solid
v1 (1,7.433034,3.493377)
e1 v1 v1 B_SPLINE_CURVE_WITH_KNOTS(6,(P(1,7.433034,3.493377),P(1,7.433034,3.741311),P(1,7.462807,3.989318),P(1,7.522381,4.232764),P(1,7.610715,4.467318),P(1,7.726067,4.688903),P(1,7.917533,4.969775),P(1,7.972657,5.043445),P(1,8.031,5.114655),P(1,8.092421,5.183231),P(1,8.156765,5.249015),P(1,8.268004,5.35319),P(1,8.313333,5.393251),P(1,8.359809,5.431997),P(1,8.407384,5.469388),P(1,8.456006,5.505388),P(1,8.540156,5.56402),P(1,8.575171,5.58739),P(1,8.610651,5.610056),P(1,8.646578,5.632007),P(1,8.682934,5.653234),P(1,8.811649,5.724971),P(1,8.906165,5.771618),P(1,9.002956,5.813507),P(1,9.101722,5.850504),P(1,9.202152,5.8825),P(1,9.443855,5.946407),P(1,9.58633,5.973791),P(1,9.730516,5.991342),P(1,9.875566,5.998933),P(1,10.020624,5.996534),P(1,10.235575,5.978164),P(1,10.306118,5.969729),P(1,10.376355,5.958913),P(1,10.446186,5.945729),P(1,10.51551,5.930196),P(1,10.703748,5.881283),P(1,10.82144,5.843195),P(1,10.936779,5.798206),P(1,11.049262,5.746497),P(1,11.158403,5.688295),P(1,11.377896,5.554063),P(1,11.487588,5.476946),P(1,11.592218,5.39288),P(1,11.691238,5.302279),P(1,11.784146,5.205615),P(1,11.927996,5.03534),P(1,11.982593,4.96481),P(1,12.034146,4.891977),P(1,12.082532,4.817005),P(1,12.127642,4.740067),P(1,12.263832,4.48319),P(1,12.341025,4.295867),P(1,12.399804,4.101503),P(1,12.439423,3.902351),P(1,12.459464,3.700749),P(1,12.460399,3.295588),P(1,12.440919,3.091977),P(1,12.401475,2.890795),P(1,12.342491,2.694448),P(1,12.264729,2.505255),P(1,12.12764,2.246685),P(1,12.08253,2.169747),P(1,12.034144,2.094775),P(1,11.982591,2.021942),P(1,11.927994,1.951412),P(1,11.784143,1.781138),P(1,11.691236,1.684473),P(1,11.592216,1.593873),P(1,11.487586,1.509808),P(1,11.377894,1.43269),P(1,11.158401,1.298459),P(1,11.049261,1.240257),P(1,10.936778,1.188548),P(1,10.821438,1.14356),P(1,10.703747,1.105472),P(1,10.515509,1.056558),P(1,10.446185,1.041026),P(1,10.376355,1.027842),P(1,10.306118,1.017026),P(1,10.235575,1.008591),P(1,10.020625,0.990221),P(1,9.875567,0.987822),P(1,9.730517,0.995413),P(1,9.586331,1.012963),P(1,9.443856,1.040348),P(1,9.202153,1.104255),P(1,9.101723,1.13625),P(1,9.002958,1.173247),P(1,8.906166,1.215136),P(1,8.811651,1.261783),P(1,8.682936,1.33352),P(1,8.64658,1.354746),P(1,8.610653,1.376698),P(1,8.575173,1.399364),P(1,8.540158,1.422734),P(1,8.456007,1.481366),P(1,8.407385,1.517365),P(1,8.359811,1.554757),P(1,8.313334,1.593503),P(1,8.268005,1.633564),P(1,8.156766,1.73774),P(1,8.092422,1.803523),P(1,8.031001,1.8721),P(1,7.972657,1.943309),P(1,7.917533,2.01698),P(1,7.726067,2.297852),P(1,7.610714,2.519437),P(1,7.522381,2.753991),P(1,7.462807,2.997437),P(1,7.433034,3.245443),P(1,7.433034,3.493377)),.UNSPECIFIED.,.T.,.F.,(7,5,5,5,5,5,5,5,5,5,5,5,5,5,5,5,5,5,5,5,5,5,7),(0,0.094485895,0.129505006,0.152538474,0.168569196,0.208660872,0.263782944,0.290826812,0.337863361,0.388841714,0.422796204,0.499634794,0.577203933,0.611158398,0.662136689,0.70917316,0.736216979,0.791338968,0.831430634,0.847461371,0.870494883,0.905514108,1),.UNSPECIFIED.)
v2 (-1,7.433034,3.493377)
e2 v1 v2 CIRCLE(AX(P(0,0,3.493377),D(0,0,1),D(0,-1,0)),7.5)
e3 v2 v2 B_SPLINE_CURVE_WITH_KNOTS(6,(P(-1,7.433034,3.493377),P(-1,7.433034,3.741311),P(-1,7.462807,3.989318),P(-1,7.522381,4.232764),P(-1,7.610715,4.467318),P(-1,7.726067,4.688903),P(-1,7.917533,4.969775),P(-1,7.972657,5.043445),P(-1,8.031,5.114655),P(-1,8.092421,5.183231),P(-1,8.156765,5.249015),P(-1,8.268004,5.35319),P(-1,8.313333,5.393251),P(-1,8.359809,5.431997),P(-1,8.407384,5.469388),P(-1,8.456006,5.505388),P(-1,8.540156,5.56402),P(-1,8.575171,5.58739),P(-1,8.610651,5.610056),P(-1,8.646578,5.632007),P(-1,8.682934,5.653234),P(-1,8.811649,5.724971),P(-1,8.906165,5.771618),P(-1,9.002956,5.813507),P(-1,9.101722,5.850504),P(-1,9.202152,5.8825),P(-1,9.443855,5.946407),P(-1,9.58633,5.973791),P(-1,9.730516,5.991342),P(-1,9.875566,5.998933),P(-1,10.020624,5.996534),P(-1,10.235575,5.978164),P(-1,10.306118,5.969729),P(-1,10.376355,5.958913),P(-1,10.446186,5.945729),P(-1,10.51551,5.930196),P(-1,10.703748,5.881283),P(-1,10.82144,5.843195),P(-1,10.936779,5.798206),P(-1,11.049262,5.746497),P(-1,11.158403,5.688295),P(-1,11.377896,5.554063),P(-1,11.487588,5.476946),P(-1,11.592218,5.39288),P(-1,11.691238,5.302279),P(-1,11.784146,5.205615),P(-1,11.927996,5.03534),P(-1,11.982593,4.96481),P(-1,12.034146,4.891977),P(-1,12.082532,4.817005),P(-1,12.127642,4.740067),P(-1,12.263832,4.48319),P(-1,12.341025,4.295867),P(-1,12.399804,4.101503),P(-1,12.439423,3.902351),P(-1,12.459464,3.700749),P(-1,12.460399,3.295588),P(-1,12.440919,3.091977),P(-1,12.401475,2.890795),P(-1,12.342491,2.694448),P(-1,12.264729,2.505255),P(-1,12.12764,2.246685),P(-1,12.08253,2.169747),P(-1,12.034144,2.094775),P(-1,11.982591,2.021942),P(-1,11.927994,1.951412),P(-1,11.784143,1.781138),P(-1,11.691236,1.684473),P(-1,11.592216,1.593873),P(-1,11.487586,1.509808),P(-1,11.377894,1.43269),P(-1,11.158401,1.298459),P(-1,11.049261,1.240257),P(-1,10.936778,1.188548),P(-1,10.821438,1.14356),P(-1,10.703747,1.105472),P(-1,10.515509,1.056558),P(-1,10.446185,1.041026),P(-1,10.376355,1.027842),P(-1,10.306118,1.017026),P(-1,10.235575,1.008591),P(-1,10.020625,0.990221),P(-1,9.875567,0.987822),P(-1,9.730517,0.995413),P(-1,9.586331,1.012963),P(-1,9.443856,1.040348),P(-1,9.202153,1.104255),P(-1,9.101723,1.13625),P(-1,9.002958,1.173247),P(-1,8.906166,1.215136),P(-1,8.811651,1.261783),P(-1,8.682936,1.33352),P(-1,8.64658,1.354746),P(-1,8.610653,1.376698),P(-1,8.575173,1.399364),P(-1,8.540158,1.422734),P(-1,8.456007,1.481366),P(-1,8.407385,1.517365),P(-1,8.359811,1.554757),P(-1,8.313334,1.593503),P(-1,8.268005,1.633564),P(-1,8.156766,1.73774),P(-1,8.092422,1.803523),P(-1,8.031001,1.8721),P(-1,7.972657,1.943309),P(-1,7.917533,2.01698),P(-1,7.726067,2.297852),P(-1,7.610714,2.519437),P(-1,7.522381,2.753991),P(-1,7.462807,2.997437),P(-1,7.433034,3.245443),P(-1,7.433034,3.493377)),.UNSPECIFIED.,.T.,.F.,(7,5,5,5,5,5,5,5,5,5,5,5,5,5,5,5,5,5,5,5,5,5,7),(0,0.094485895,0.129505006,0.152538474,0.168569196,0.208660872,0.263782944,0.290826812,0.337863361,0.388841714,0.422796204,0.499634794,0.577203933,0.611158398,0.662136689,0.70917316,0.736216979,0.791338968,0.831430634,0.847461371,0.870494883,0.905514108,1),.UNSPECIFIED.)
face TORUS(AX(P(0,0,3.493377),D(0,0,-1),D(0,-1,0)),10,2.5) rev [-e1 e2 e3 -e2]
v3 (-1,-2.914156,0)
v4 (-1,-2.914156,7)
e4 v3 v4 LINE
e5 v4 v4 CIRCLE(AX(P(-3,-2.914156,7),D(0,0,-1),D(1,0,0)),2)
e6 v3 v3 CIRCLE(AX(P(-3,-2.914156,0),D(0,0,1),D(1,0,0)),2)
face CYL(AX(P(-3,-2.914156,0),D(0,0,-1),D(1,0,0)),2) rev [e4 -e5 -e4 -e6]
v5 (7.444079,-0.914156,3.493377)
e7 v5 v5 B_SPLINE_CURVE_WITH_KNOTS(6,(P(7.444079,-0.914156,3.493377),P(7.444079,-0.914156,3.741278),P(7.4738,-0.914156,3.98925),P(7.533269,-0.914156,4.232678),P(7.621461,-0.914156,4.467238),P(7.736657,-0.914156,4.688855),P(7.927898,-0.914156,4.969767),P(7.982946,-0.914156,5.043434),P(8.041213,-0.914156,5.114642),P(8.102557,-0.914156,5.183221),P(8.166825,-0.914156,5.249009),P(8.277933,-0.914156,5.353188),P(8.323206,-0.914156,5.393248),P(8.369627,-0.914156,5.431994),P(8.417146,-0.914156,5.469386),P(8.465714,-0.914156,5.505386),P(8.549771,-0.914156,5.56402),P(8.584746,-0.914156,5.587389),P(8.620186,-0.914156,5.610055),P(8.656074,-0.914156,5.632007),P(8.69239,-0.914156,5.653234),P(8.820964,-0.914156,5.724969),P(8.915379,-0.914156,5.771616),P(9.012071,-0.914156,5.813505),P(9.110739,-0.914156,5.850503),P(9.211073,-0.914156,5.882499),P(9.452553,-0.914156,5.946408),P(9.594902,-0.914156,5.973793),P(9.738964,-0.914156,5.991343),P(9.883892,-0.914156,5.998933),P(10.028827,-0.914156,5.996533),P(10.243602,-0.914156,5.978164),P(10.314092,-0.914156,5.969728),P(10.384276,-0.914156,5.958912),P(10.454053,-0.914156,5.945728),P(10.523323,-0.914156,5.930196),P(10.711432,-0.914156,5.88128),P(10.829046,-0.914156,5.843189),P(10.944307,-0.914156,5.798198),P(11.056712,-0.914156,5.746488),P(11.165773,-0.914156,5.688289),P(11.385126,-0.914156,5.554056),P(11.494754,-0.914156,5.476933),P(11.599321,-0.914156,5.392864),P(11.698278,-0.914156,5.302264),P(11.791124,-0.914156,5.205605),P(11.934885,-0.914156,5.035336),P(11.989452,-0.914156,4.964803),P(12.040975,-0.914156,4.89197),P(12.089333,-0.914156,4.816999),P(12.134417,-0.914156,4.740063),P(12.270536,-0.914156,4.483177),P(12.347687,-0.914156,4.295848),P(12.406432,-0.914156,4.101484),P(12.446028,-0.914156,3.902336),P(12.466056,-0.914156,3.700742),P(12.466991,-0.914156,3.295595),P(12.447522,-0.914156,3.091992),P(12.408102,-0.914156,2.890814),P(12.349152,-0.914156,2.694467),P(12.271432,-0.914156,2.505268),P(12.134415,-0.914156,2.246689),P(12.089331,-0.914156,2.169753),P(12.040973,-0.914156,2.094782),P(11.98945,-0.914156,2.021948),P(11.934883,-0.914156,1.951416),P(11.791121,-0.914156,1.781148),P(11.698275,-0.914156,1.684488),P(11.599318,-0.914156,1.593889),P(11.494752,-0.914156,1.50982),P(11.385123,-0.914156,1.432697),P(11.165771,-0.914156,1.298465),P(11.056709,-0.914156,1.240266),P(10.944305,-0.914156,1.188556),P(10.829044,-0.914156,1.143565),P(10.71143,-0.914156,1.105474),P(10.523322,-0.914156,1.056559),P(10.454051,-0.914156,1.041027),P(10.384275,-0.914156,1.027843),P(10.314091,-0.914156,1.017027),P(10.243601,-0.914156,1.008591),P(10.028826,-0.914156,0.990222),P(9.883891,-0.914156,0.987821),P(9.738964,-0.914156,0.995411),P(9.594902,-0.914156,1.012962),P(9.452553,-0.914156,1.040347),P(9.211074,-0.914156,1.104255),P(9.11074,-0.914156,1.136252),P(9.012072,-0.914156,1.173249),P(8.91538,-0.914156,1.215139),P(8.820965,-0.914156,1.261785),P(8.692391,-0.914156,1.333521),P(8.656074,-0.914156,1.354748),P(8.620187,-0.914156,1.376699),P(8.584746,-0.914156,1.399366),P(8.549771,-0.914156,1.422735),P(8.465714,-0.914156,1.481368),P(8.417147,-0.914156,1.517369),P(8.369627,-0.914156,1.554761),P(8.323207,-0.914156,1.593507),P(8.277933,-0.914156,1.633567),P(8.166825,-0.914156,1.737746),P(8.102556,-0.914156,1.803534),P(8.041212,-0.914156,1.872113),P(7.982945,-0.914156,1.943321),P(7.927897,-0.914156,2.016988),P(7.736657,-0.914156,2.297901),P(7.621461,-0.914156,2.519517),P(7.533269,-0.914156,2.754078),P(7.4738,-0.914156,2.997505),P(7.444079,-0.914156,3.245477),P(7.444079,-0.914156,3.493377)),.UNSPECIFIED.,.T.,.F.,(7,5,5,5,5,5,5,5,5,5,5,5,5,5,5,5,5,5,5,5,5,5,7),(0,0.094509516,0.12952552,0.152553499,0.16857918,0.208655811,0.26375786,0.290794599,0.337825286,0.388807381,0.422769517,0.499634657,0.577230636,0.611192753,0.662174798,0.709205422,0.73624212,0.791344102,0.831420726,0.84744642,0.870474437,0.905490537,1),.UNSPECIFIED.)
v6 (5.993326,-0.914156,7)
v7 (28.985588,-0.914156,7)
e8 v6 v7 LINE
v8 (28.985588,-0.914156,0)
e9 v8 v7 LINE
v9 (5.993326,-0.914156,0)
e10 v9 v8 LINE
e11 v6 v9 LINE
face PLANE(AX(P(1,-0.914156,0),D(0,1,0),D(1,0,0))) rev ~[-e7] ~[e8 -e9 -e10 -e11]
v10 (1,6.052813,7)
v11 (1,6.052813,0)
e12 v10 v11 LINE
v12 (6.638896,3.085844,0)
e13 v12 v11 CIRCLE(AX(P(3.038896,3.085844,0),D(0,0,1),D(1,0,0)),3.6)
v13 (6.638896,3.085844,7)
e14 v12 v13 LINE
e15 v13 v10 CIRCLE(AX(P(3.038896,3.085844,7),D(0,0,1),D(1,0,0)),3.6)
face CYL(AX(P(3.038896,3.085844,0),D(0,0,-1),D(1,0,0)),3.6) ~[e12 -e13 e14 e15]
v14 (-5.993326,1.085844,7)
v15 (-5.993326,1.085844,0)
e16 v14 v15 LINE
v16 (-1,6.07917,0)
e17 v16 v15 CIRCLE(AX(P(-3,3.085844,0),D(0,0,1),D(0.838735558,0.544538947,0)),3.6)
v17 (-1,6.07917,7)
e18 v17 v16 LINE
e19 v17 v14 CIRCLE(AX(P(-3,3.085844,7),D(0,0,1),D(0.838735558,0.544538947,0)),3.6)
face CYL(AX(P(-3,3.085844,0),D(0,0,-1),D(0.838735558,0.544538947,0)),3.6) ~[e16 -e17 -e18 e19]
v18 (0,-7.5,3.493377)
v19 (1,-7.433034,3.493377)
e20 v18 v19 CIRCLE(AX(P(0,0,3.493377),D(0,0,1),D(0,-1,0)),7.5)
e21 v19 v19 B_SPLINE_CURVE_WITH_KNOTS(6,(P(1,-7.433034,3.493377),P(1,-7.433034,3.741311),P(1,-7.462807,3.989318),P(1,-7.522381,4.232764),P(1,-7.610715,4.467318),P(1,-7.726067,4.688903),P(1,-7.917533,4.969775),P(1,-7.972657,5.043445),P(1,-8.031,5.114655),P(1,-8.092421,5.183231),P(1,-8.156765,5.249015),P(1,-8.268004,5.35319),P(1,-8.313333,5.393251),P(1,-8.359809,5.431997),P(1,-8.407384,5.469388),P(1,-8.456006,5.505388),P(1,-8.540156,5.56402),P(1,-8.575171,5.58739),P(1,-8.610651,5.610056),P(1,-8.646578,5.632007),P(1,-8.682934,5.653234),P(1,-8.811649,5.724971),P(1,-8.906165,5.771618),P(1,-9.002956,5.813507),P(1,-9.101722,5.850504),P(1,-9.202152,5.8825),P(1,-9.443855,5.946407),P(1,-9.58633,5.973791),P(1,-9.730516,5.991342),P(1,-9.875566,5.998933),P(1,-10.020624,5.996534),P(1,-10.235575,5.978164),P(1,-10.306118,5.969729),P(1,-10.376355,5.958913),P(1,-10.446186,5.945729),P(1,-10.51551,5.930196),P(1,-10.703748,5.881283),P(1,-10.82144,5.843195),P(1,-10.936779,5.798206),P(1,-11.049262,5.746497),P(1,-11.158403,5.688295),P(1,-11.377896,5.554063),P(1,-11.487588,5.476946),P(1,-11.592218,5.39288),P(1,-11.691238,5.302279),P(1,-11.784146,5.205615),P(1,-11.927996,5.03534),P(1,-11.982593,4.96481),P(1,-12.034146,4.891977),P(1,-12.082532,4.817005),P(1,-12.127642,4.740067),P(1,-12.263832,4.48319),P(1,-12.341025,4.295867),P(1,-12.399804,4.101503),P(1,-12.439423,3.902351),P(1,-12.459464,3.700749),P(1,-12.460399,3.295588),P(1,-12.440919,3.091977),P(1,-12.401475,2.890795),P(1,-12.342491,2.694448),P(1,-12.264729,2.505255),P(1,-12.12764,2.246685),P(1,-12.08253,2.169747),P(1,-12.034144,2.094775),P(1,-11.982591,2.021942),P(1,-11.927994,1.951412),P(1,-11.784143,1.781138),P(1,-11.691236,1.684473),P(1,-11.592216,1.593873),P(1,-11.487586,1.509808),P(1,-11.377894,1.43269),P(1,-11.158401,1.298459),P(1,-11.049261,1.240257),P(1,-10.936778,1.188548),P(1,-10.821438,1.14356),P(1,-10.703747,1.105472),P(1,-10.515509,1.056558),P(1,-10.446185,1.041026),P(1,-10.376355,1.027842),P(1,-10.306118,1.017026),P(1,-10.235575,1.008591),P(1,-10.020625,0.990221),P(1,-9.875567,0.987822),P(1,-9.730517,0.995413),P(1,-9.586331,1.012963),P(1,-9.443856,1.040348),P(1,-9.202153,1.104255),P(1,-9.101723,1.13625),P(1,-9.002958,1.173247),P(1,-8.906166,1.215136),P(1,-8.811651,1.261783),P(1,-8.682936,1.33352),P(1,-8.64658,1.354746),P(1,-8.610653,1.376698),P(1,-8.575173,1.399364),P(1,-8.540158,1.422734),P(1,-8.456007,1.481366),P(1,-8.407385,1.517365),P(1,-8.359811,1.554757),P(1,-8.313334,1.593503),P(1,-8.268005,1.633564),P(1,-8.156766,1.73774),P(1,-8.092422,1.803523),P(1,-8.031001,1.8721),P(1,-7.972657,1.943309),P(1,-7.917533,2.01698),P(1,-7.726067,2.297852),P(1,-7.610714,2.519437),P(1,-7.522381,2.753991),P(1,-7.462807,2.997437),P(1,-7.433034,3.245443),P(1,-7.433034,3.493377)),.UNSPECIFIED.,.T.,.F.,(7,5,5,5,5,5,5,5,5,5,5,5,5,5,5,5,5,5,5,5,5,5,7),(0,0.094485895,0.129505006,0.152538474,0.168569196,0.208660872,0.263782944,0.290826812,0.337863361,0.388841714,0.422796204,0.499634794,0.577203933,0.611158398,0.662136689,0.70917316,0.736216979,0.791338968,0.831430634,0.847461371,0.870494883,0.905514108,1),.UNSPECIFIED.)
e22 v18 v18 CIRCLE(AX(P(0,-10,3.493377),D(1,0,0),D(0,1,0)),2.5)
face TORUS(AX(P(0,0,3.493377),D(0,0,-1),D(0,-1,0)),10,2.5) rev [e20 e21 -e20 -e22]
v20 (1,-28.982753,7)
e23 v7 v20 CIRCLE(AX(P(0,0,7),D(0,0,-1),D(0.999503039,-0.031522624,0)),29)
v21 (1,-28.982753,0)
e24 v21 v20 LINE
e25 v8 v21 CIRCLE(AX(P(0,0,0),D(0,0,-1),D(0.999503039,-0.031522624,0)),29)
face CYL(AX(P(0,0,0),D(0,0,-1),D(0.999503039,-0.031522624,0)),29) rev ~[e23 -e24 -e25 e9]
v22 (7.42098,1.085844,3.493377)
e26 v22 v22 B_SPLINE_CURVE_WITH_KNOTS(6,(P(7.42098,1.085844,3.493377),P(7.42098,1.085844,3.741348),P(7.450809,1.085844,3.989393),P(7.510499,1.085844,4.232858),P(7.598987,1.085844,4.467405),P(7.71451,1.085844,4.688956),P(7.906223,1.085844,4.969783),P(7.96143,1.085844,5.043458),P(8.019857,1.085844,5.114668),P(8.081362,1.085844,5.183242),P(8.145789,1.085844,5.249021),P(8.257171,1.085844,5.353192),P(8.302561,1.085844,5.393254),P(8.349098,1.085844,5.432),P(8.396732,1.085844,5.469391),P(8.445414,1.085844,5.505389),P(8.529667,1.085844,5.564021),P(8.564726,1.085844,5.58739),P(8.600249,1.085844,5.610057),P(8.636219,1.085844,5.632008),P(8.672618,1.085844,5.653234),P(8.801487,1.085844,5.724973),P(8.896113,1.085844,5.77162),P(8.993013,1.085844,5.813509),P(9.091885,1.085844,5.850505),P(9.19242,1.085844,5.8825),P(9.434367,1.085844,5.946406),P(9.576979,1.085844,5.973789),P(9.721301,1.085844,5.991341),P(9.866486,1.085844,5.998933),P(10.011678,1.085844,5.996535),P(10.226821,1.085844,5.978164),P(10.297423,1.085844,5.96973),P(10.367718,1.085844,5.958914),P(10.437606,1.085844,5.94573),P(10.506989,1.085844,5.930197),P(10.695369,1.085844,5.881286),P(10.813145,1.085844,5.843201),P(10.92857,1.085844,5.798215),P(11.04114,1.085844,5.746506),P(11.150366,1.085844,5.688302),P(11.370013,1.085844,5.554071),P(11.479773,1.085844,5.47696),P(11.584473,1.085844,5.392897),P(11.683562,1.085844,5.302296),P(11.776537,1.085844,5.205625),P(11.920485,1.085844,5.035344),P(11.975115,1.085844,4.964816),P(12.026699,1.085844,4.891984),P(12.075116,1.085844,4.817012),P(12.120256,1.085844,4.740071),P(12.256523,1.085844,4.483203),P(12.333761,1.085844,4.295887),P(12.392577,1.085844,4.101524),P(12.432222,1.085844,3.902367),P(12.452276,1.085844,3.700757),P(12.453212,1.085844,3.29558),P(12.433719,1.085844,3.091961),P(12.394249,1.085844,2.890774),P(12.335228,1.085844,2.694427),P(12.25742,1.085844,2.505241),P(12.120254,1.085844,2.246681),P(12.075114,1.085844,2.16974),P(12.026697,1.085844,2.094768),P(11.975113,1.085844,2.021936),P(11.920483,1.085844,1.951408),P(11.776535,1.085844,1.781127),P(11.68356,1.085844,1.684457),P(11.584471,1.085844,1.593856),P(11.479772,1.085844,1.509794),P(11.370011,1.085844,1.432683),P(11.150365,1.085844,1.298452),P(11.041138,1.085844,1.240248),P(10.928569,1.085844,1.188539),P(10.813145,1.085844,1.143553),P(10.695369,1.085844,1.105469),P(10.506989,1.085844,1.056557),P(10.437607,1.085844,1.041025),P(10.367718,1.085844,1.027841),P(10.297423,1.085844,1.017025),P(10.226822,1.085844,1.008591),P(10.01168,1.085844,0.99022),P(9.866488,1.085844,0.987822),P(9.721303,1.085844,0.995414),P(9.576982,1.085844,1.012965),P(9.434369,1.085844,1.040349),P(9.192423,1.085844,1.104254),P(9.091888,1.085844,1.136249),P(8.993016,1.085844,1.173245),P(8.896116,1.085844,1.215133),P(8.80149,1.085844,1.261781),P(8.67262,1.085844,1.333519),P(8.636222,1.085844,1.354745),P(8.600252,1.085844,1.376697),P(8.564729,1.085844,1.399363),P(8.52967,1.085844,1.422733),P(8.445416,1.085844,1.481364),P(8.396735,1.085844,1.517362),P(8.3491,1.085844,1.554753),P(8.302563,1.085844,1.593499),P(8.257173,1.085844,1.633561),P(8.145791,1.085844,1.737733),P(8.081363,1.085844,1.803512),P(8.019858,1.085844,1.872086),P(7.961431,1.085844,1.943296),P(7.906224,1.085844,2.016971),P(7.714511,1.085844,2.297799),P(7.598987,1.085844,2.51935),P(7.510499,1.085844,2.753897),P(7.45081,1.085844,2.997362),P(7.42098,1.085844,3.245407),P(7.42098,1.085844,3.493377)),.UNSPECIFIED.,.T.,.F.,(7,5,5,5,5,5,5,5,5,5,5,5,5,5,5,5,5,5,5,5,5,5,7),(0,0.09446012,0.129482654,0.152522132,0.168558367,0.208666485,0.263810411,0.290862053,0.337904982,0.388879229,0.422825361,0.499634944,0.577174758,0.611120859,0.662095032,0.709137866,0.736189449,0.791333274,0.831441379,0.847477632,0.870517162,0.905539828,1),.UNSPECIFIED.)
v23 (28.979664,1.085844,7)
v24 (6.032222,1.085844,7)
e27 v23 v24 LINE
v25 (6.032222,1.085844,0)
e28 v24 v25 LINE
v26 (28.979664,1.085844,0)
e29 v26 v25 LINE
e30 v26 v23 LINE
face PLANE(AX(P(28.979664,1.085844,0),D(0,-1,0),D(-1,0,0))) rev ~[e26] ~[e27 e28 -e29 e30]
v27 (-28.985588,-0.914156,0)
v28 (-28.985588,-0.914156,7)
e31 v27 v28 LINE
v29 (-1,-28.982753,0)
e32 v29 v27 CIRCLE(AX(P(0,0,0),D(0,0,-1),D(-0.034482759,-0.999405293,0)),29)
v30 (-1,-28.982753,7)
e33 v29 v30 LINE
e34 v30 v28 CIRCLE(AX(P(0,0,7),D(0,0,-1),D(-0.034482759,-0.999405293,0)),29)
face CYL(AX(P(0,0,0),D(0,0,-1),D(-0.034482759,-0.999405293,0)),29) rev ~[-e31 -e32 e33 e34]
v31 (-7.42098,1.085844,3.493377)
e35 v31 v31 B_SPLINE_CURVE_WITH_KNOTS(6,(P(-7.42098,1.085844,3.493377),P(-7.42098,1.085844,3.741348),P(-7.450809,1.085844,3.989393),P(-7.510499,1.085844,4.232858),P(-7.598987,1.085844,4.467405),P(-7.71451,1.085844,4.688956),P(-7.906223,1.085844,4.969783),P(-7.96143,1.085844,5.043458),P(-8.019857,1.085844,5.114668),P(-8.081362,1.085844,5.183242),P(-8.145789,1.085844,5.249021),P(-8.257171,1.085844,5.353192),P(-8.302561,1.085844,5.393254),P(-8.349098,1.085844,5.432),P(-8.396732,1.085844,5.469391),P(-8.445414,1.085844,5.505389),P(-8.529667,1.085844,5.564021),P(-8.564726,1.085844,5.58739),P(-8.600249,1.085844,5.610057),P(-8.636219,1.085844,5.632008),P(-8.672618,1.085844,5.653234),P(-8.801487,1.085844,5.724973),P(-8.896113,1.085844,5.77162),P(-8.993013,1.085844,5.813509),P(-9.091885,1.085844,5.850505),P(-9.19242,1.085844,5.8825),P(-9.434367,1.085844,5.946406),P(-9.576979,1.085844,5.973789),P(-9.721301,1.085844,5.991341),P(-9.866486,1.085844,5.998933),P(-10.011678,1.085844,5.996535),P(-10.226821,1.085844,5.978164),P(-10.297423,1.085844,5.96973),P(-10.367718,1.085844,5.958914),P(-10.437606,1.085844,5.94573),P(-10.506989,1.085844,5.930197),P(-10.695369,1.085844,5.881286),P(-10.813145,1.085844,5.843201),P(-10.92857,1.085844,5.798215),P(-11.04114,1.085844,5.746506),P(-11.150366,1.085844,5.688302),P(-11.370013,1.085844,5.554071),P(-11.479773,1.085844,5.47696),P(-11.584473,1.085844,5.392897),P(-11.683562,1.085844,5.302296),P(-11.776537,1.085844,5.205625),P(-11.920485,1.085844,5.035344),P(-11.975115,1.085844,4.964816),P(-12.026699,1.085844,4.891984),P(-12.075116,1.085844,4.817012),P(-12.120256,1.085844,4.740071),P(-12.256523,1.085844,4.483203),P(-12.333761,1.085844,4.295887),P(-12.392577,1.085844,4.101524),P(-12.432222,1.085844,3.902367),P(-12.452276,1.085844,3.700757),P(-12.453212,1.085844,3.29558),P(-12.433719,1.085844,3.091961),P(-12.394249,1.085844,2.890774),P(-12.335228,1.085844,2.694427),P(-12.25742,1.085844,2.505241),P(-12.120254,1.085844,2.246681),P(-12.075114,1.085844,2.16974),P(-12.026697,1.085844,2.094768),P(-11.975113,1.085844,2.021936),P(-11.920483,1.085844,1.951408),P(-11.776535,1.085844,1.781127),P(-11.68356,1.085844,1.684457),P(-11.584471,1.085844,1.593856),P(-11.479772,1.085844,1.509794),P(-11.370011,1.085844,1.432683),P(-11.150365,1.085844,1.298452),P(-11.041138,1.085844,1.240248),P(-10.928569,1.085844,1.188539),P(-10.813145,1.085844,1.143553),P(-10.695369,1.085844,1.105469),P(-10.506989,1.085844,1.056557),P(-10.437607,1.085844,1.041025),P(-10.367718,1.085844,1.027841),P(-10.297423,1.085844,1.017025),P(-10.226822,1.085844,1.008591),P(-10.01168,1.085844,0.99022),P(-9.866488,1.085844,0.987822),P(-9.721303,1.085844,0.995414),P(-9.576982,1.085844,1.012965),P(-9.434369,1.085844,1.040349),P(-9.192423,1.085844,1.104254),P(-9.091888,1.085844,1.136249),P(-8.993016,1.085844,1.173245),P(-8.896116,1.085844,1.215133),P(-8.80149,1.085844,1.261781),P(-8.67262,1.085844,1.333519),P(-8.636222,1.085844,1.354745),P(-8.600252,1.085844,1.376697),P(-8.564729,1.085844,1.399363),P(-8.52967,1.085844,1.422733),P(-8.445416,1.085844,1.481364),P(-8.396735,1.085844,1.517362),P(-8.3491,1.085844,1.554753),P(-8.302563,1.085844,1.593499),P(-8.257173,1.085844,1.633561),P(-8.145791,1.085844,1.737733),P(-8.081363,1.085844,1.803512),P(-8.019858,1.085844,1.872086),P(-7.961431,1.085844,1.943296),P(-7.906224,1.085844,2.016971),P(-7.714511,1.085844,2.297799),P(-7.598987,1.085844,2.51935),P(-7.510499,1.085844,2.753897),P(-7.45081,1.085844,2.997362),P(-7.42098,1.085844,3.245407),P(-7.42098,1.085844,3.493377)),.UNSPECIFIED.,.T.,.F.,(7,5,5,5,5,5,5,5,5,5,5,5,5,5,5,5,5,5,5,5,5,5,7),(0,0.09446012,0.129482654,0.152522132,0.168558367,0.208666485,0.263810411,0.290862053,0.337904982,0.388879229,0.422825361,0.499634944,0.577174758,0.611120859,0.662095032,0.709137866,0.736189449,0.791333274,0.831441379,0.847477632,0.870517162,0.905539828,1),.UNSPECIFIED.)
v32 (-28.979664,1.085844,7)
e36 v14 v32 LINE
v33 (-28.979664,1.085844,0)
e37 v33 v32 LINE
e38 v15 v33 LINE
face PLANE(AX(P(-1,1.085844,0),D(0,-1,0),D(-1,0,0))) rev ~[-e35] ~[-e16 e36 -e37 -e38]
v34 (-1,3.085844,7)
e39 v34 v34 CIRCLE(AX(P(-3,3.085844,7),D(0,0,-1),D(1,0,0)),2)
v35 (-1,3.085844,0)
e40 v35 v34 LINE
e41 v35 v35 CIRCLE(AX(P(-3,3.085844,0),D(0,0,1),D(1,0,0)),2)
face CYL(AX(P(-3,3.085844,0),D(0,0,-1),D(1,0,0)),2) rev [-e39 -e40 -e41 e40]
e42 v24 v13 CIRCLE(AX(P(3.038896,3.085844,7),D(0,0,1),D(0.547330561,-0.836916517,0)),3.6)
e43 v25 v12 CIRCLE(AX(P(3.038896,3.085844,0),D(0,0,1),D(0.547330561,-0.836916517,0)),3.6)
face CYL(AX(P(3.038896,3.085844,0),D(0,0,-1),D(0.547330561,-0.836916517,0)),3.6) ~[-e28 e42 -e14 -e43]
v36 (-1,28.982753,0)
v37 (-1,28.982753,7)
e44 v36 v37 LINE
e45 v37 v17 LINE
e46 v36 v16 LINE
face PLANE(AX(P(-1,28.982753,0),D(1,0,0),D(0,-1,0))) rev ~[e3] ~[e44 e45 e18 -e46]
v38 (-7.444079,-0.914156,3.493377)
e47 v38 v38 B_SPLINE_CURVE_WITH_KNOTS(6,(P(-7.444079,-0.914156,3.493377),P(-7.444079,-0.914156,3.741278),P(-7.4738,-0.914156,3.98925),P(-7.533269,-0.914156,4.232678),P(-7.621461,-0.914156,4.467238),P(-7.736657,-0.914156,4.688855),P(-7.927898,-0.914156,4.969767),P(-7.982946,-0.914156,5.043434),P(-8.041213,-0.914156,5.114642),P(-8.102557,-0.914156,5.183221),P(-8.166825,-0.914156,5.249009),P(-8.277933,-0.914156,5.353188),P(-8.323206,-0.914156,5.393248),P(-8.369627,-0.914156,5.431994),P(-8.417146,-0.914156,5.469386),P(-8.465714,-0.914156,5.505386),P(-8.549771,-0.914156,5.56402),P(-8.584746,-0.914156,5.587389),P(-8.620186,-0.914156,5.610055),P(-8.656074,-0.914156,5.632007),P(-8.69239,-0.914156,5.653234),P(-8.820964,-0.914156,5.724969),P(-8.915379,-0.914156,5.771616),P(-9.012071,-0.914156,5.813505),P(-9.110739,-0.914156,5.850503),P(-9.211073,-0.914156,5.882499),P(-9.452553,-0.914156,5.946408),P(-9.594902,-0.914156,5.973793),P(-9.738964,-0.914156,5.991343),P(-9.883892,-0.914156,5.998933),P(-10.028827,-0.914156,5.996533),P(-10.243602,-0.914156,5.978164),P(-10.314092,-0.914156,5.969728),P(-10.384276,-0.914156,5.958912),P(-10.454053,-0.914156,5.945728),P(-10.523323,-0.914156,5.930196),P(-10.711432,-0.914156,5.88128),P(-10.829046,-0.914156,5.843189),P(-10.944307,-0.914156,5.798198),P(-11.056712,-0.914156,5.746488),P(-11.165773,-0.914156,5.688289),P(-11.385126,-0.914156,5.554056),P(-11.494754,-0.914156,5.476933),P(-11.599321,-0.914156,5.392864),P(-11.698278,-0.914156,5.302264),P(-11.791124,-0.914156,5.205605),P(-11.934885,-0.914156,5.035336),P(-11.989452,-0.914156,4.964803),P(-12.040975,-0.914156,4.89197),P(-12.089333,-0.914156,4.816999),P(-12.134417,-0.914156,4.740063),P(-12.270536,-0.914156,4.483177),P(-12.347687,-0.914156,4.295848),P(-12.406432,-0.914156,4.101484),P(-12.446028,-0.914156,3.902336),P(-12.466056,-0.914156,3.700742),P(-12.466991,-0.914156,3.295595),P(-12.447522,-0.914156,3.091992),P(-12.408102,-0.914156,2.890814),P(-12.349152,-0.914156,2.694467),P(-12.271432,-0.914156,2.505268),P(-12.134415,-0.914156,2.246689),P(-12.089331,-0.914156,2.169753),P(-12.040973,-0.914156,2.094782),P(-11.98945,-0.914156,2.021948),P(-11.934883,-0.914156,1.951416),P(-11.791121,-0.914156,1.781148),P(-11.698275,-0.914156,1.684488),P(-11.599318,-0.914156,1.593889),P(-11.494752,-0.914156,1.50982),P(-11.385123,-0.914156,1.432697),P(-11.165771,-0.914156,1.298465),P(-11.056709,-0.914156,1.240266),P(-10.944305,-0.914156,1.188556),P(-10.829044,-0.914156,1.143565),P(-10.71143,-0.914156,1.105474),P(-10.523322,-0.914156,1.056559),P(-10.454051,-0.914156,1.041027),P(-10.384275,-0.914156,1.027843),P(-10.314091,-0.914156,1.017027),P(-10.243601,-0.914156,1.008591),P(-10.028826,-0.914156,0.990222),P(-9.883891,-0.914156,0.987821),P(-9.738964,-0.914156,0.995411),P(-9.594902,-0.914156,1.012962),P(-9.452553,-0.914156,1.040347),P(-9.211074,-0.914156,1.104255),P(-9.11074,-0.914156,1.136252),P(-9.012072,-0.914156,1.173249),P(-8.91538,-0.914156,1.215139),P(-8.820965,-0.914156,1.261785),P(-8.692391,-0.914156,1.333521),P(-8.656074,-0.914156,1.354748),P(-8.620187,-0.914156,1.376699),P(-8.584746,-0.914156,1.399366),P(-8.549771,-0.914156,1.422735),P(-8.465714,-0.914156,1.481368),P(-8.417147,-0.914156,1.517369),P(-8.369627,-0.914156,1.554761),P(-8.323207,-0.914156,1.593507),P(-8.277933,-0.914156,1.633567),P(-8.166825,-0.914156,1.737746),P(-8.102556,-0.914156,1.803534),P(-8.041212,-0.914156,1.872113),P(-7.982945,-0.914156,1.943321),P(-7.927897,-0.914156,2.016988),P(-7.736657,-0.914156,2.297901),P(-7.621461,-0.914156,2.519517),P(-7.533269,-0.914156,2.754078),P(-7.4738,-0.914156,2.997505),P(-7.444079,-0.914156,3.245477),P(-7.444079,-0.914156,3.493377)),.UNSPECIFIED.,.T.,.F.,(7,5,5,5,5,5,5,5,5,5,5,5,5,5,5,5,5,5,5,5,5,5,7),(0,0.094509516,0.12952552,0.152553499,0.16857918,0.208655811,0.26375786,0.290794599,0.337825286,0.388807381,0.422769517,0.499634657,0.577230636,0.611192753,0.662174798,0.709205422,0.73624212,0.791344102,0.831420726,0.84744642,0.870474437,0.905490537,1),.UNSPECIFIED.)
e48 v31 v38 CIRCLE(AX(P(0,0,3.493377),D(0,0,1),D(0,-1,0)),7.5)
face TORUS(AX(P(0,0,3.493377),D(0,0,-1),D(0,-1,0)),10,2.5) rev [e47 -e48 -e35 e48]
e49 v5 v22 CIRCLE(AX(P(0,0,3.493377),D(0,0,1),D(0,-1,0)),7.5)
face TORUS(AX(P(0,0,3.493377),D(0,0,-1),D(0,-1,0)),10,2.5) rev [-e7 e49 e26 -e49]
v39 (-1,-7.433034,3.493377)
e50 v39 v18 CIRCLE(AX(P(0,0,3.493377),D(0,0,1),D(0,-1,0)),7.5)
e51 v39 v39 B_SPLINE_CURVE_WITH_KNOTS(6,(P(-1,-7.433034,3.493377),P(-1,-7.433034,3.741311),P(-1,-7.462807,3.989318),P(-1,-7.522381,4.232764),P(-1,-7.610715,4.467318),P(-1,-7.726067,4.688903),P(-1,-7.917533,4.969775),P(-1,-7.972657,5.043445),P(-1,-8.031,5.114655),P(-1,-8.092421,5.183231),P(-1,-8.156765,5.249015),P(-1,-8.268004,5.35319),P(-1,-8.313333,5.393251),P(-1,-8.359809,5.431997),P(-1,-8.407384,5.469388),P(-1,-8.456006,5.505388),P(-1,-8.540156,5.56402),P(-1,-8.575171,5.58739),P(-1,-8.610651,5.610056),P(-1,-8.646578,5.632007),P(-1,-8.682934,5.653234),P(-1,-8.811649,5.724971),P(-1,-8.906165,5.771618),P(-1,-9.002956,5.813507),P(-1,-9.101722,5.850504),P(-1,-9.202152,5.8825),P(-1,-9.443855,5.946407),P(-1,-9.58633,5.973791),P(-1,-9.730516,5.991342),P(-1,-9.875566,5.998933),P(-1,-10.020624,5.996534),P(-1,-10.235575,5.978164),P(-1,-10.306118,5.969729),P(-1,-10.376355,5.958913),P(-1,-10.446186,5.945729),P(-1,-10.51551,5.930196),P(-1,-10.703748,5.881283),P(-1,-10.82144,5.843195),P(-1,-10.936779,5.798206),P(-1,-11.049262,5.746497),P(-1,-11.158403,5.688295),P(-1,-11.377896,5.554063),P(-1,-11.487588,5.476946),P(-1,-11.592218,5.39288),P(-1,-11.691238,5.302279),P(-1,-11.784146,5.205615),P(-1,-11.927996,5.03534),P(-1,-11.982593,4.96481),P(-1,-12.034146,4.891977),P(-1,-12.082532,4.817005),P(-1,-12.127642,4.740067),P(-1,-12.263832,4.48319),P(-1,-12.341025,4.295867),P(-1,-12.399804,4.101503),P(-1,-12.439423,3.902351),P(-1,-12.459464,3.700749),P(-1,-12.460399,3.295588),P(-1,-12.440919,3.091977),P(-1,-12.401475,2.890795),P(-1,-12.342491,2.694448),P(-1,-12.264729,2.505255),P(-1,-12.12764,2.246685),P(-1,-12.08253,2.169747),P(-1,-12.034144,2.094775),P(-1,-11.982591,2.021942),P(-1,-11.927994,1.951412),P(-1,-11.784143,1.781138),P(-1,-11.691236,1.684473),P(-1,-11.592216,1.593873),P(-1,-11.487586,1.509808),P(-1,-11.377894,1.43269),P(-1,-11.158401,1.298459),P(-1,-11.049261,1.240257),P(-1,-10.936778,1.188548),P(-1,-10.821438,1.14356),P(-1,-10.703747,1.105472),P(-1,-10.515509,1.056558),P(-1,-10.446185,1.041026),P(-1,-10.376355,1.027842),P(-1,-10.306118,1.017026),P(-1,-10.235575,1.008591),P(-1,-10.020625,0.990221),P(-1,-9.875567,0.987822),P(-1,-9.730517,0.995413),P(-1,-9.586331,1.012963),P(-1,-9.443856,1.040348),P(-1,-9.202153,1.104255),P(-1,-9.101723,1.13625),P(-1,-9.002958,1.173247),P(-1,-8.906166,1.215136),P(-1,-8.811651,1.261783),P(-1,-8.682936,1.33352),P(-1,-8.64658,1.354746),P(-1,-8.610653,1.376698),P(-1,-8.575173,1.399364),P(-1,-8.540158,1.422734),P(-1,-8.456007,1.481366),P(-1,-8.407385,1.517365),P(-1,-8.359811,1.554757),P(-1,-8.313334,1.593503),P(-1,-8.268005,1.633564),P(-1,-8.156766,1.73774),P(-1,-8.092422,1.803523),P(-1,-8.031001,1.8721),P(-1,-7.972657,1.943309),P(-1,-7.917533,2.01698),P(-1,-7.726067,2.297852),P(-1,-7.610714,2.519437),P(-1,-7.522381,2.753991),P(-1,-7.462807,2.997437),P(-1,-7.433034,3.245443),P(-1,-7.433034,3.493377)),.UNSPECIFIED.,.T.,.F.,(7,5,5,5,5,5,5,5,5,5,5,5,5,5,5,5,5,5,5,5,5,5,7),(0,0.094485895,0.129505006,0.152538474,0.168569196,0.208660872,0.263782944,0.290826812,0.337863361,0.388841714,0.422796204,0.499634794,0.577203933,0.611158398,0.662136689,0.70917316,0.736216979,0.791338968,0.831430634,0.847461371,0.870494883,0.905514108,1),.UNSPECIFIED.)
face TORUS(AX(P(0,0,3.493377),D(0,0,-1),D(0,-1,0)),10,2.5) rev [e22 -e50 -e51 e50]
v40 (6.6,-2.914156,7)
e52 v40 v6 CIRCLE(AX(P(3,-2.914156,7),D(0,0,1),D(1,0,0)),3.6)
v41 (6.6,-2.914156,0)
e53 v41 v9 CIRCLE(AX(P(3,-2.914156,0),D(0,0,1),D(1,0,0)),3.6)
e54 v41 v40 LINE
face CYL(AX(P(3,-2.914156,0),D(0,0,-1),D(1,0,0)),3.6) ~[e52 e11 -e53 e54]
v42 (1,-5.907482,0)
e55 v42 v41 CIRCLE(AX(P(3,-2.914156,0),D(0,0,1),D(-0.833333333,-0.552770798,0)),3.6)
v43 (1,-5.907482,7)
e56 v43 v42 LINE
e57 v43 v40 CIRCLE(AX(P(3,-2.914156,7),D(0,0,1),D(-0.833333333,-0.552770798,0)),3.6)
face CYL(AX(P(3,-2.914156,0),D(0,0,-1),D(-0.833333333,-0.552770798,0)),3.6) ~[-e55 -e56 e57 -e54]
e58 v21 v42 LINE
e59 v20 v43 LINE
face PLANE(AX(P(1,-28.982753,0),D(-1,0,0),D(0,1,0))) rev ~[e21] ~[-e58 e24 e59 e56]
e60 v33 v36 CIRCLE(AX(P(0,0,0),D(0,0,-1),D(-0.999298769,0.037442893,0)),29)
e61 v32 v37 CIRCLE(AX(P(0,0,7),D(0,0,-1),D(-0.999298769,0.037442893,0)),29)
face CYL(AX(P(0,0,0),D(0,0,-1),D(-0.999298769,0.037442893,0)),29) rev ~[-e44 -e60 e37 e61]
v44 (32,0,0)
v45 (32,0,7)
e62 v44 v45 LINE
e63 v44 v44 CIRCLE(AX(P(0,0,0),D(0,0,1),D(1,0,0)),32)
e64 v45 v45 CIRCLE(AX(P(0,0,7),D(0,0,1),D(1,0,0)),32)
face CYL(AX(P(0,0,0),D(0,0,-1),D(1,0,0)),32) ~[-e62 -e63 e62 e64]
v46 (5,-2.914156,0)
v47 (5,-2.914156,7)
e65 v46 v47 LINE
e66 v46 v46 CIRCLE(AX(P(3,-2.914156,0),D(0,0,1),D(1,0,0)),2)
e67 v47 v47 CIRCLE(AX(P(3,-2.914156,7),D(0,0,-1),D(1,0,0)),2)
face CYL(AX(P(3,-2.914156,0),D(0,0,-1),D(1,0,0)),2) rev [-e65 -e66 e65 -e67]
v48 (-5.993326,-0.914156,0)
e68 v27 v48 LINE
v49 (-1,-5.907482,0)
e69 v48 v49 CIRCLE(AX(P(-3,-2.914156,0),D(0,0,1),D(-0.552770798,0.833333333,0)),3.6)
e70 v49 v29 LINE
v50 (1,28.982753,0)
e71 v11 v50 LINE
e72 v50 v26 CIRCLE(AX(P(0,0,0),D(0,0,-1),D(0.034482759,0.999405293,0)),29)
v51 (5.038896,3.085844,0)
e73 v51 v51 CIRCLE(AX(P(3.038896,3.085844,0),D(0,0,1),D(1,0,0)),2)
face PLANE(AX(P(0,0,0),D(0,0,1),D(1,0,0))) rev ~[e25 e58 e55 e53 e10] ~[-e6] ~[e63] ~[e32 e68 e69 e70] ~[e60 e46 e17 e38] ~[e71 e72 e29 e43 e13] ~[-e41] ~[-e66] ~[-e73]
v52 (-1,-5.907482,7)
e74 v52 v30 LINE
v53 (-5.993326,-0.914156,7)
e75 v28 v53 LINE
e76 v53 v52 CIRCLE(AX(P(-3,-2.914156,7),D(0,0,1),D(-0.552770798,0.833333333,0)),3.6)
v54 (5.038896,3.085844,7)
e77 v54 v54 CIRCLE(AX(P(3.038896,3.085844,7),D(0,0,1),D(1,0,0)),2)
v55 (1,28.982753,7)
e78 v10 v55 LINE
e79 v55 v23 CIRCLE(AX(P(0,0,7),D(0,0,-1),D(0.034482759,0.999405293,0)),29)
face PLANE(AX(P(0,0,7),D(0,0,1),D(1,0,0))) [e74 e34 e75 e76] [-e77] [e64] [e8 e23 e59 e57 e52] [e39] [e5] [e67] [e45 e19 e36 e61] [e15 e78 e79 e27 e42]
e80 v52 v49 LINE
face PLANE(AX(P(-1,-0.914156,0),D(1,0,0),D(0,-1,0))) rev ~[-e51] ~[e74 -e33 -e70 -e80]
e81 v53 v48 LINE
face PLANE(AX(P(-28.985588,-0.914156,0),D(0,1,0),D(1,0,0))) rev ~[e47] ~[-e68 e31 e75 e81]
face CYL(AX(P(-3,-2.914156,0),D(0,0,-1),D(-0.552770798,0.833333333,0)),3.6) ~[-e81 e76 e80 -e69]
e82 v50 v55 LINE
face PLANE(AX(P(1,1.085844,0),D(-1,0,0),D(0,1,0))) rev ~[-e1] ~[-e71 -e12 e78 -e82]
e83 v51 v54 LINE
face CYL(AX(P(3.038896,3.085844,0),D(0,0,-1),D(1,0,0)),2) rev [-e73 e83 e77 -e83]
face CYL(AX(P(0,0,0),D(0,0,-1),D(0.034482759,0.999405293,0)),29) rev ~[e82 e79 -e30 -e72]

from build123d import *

# Parameters (mm, degrees)
F0_R     = 32
F0_W     = 2
F0_H     = 2
F1_DEPTH = 7
F2_R     = 2.5
F4_R     = 2
F5_DEPTH = 7


with BuildPart() as f1:
    # F0 (on Top) → F1 (new body)
    with BuildSketch(Plane.XY):
        Circle(F0_R)
        with BuildLine():
            ThreePointArc((1, 28.9827534924), (20.4757041145, 20.5364442155), (28.9796643011, 1.0858439086))
            Line((28.9796643011, 1.0858439086), (29.9863147924, 1.0858439086))
            Line((29.9863147924, 1.0858439086), (29.9863147924, -0.9141560914))
            Line((29.9863147924, -0.9141560914), (28.9855881196, -0.9141560914))
            ThreePointArc((28.9855881196, -0.9141560914), (20.5364411166, -20.4757072226), (1, -28.9827534924))
            Line((1, -28.9827534924), (1, -29.9833287011))
            Line((1, -29.9833287011), (-1, -29.9833287011))
            Line((-1, -29.9833287011), (-1, -28.9827534924))
            ThreePointArc((-1, -28.9827534924), (-20.5364411166, -20.4757072226), (-28.9855881196, -0.9141560914))
            Line((-28.9855881196, -0.9141560914), (-29.9803426099, -0.9141560914))
            Line((-29.9803426099, -0.9141560914), (-29.9803426099, 1.0858439086))
            Line((-29.9803426099, 1.0858439086), (-28.9796643011, 1.0858439086))
            ThreePointArc((-28.9796643011, 1.0858439086), (-20.4757041145, 20.5364442155), (-1, 28.9827534924))
            Line((-1, 28.9827534924), (-1, 29.9833287011))
            Line((-1, 29.9833287011), (1, 29.9833287011))
            Line((1, 29.9833287011), (1, 28.9827534924))
        make_face(mode=Mode.SUBTRACT)
        with BuildLine():
            ThreePointArc((-1, 28.9827534924), (0, 29), (1, 28.9827534924))
            Line((1, 28.9827534924), (1, 29.9833287011))
            Line((1, 29.9833287011), (-1, 29.9833287011))
            Line((-1, 29.9833287011), (-1, 28.9827534924))
        make_face()
        with BuildLine():
            ThreePointArc((-28.9855881196, -0.9141560914), (-28.9998727937, 0.0858949914), (-28.9796643011, 1.0858439086))
            Line((-28.9796643011, 1.0858439086), (-29.9803426099, 1.0858439086))
            Line((-29.9803426099, 1.0858439086), (-29.9803426099, -0.9141560914))
            Line((-29.9803426099, -0.9141560914), (-28.9855881196, -0.9141560914))
        make_face()
        with BuildLine():
            Line((1, -29.9833287011), (1, -28.9827534924))
            ThreePointArc((1, -28.9827534924), (0, -29), (-1, -28.9827534924))
            Line((-1, -28.9827534924), (-1, -29.9833287011))
            Line((-1, -29.9833287011), (1, -29.9833287011))
        make_face()
        with Locations((0, 0.0858439086)):
            Rectangle(F0_W, F0_H)
        with BuildLine():
            Line((-1, -0.9141560914), (-1, 1.0858439086))
            Line((-1, 1.0858439086), (-28.9796643011, 1.0858439086))
            ThreePointArc((-28.9796643011, 1.0858439086), (-28.9998727937, 0.0858949914), (-28.9855881196, -0.9141560914))
            Line((-28.9855881196, -0.9141560914), (-1, -0.9141560914))
        make_face()
        with BuildLine():
            ThreePointArc((28.9855881196, -0.9141560914), (28.9963968061, -0.4571348438), (29, 0))
            ThreePointArc((29, 0), (28.9949156296, 0.5430171578), (28.9796643011, 1.0858439086))
            Line((28.9796643011, 1.0858439086), (1, 1.0858439086))
            Line((1, 1.0858439086), (1, -0.9141560914))
            Line((1, -0.9141560914), (28.9855881196, -0.9141560914))
        make_face()
        with BuildLine():
            Line((1, 1.0858439086), (1, 28.9827534924))
            ThreePointArc((1, 28.9827534924), (0, 29), (-1, 28.9827534924))
            Line((-1, 28.9827534924), (-1, 1.0858439086))
            Line((-1, 1.0858439086), (1, 1.0858439086))
        make_face()
        with BuildLine():
            ThreePointArc((-1, -28.9827534924), (0, -29), (1, -28.9827534924))
            Line((1, -28.9827534924), (1, -0.9141560914))
            Line((1, -0.9141560914), (-1, -0.9141560914))
            Line((-1, -0.9141560914), (-1, -28.9827534924))
        make_face()
        with BuildLine():
            ThreePointArc((28.9796643011, 1.0858439086), (28.9949156296, 0.5430171578), (29, 0))
            ThreePointArc((29, 0), (28.9963968061, -0.4571348438), (28.9855881196, -0.9141560914))
            Line((28.9855881196, -0.9141560914), (29.9863147924, -0.9141560914))
            Line((29.9863147924, -0.9141560914), (29.9863147924, 1.0858439086))
            Line((29.9863147924, 1.0858439086), (28.9796643011, 1.0858439086))
        make_face()
    extrude(amount=F1_DEPTH)

    # F2 (on Right) → F3 (revolve, cut)
    with BuildSketch(Plane.YZ):
        with Locations((-10, 3.4933774173)):
            Circle(F2_R)
    revolve(axis=Axis((0, 0, 9.8674278706), (0, 0, 1)), mode=Mode.SUBTRACT)

    # F4 (on Top) → F5 (join)
    with BuildSketch(Plane.XY):
        with BuildLine():
            ThreePointArc((5.0092860358, 0.072944447), (6.2053928233, 1.3731565576), (6.6388960149, 3.0858439086))
            ThreePointArc((6.6388960149, 3.0858439086), (4.061145293, 6.5376559564), (0.0194480075, 5.0461841164))
            ThreePointArc((0.0194480075, 5.0461841164), (0.4518120478, 4.1080931867), (0.6, 3.0858439086))
            ThreePointArc((0.6, 3.0858439086), (0.4518120478, 2.0635946305), (0.0194480075, 1.1255037008))
            ThreePointArc((0.0194480075, 1.1255037008), (0.4726534867, 0.5610866358), (1.0296099792, 0.0987433702))
            ThreePointArc((1.0296099792, 0.0987433702), (3.0233371186, 0.685768266), (5.0092860358, 0.072944447))
        make_face()
        with Locations((3.0388960149, 3.0858439086)):
            Circle(F4_R, mode=Mode.SUBTRACT)
        with BuildLine():
            ThreePointArc((6.6, -2.9141560914), (6.1775328266, -1.2220316469), (5.0092860358, 0.072944447))
            ThreePointArc((5.0092860358, 0.072944447), (3.0155588963, -0.5140804488), (1.0296099792, 0.0987433702))
            ThreePointArc((1.0296099792, 0.0987433702), (0.4627203706, -0.360293902), (0, -0.9241812172))
            ThreePointArc((0, -0.9241812172), (0.4467375879, -1.8749256068), (0.6, -2.9141560914))
            ThreePointArc((0.6, -2.9141560914), (0.4467375879, -3.9533865759), (0, -4.9041309656))
            ThreePointArc((0, -4.9041309656), (4.0392304845, -6.3608936793), (6.6, -2.9141560914))
        make_face()
        with Locations((3, -2.9141560914)):
            Circle(F4_R, mode=Mode.SUBTRACT)
        with BuildLine():
            ThreePointArc((-1.0100251258, 0.0858439086), (-3, -0.5141560914), (-4.9899748742, 0.0858439086))
            ThreePointArc((-4.9899748742, 0.0858439086), (-5.5455844123, -5.4597405036), (0, -4.9041309656))
            ThreePointArc((0, -4.9041309656), (-0.6, -2.9141560914), (0, -0.9241812172))
            ThreePointArc((0, -0.9241812172), (-0.4544155877, -0.3685716791), (-1.0100251258, 0.0858439086))
        make_face()
        with Locations((-3, -2.9141560914)):
            Circle(F4_R, mode=Mode.SUBTRACT)
        with BuildLine():
            ThreePointArc((0.0194480075, 1.1255037008), (-0.5611039851, 3.0858439086), (0.0194480075, 5.0461841164))
            ThreePointArc((0.0194480075, 5.0461841164), (-5.5330214127, 5.6439296231), (-4.9899748742, 0.0858439086))
            ThreePointArc((-4.9899748742, 0.0858439086), (-3, 0.6858439086), (-1.0100251258, 0.0858439086))
            ThreePointArc((-1.0100251258, 0.0858439086), (-0.4419142855, 0.5528224959), (0.0194480075, 1.1255037008))
        make_face()
        with Locations((-3, 3.0858439086)):
            Circle(F4_R, mode=Mode.SUBTRACT)
    extrude(amount=F5_DEPTH)


solid = f1.part
